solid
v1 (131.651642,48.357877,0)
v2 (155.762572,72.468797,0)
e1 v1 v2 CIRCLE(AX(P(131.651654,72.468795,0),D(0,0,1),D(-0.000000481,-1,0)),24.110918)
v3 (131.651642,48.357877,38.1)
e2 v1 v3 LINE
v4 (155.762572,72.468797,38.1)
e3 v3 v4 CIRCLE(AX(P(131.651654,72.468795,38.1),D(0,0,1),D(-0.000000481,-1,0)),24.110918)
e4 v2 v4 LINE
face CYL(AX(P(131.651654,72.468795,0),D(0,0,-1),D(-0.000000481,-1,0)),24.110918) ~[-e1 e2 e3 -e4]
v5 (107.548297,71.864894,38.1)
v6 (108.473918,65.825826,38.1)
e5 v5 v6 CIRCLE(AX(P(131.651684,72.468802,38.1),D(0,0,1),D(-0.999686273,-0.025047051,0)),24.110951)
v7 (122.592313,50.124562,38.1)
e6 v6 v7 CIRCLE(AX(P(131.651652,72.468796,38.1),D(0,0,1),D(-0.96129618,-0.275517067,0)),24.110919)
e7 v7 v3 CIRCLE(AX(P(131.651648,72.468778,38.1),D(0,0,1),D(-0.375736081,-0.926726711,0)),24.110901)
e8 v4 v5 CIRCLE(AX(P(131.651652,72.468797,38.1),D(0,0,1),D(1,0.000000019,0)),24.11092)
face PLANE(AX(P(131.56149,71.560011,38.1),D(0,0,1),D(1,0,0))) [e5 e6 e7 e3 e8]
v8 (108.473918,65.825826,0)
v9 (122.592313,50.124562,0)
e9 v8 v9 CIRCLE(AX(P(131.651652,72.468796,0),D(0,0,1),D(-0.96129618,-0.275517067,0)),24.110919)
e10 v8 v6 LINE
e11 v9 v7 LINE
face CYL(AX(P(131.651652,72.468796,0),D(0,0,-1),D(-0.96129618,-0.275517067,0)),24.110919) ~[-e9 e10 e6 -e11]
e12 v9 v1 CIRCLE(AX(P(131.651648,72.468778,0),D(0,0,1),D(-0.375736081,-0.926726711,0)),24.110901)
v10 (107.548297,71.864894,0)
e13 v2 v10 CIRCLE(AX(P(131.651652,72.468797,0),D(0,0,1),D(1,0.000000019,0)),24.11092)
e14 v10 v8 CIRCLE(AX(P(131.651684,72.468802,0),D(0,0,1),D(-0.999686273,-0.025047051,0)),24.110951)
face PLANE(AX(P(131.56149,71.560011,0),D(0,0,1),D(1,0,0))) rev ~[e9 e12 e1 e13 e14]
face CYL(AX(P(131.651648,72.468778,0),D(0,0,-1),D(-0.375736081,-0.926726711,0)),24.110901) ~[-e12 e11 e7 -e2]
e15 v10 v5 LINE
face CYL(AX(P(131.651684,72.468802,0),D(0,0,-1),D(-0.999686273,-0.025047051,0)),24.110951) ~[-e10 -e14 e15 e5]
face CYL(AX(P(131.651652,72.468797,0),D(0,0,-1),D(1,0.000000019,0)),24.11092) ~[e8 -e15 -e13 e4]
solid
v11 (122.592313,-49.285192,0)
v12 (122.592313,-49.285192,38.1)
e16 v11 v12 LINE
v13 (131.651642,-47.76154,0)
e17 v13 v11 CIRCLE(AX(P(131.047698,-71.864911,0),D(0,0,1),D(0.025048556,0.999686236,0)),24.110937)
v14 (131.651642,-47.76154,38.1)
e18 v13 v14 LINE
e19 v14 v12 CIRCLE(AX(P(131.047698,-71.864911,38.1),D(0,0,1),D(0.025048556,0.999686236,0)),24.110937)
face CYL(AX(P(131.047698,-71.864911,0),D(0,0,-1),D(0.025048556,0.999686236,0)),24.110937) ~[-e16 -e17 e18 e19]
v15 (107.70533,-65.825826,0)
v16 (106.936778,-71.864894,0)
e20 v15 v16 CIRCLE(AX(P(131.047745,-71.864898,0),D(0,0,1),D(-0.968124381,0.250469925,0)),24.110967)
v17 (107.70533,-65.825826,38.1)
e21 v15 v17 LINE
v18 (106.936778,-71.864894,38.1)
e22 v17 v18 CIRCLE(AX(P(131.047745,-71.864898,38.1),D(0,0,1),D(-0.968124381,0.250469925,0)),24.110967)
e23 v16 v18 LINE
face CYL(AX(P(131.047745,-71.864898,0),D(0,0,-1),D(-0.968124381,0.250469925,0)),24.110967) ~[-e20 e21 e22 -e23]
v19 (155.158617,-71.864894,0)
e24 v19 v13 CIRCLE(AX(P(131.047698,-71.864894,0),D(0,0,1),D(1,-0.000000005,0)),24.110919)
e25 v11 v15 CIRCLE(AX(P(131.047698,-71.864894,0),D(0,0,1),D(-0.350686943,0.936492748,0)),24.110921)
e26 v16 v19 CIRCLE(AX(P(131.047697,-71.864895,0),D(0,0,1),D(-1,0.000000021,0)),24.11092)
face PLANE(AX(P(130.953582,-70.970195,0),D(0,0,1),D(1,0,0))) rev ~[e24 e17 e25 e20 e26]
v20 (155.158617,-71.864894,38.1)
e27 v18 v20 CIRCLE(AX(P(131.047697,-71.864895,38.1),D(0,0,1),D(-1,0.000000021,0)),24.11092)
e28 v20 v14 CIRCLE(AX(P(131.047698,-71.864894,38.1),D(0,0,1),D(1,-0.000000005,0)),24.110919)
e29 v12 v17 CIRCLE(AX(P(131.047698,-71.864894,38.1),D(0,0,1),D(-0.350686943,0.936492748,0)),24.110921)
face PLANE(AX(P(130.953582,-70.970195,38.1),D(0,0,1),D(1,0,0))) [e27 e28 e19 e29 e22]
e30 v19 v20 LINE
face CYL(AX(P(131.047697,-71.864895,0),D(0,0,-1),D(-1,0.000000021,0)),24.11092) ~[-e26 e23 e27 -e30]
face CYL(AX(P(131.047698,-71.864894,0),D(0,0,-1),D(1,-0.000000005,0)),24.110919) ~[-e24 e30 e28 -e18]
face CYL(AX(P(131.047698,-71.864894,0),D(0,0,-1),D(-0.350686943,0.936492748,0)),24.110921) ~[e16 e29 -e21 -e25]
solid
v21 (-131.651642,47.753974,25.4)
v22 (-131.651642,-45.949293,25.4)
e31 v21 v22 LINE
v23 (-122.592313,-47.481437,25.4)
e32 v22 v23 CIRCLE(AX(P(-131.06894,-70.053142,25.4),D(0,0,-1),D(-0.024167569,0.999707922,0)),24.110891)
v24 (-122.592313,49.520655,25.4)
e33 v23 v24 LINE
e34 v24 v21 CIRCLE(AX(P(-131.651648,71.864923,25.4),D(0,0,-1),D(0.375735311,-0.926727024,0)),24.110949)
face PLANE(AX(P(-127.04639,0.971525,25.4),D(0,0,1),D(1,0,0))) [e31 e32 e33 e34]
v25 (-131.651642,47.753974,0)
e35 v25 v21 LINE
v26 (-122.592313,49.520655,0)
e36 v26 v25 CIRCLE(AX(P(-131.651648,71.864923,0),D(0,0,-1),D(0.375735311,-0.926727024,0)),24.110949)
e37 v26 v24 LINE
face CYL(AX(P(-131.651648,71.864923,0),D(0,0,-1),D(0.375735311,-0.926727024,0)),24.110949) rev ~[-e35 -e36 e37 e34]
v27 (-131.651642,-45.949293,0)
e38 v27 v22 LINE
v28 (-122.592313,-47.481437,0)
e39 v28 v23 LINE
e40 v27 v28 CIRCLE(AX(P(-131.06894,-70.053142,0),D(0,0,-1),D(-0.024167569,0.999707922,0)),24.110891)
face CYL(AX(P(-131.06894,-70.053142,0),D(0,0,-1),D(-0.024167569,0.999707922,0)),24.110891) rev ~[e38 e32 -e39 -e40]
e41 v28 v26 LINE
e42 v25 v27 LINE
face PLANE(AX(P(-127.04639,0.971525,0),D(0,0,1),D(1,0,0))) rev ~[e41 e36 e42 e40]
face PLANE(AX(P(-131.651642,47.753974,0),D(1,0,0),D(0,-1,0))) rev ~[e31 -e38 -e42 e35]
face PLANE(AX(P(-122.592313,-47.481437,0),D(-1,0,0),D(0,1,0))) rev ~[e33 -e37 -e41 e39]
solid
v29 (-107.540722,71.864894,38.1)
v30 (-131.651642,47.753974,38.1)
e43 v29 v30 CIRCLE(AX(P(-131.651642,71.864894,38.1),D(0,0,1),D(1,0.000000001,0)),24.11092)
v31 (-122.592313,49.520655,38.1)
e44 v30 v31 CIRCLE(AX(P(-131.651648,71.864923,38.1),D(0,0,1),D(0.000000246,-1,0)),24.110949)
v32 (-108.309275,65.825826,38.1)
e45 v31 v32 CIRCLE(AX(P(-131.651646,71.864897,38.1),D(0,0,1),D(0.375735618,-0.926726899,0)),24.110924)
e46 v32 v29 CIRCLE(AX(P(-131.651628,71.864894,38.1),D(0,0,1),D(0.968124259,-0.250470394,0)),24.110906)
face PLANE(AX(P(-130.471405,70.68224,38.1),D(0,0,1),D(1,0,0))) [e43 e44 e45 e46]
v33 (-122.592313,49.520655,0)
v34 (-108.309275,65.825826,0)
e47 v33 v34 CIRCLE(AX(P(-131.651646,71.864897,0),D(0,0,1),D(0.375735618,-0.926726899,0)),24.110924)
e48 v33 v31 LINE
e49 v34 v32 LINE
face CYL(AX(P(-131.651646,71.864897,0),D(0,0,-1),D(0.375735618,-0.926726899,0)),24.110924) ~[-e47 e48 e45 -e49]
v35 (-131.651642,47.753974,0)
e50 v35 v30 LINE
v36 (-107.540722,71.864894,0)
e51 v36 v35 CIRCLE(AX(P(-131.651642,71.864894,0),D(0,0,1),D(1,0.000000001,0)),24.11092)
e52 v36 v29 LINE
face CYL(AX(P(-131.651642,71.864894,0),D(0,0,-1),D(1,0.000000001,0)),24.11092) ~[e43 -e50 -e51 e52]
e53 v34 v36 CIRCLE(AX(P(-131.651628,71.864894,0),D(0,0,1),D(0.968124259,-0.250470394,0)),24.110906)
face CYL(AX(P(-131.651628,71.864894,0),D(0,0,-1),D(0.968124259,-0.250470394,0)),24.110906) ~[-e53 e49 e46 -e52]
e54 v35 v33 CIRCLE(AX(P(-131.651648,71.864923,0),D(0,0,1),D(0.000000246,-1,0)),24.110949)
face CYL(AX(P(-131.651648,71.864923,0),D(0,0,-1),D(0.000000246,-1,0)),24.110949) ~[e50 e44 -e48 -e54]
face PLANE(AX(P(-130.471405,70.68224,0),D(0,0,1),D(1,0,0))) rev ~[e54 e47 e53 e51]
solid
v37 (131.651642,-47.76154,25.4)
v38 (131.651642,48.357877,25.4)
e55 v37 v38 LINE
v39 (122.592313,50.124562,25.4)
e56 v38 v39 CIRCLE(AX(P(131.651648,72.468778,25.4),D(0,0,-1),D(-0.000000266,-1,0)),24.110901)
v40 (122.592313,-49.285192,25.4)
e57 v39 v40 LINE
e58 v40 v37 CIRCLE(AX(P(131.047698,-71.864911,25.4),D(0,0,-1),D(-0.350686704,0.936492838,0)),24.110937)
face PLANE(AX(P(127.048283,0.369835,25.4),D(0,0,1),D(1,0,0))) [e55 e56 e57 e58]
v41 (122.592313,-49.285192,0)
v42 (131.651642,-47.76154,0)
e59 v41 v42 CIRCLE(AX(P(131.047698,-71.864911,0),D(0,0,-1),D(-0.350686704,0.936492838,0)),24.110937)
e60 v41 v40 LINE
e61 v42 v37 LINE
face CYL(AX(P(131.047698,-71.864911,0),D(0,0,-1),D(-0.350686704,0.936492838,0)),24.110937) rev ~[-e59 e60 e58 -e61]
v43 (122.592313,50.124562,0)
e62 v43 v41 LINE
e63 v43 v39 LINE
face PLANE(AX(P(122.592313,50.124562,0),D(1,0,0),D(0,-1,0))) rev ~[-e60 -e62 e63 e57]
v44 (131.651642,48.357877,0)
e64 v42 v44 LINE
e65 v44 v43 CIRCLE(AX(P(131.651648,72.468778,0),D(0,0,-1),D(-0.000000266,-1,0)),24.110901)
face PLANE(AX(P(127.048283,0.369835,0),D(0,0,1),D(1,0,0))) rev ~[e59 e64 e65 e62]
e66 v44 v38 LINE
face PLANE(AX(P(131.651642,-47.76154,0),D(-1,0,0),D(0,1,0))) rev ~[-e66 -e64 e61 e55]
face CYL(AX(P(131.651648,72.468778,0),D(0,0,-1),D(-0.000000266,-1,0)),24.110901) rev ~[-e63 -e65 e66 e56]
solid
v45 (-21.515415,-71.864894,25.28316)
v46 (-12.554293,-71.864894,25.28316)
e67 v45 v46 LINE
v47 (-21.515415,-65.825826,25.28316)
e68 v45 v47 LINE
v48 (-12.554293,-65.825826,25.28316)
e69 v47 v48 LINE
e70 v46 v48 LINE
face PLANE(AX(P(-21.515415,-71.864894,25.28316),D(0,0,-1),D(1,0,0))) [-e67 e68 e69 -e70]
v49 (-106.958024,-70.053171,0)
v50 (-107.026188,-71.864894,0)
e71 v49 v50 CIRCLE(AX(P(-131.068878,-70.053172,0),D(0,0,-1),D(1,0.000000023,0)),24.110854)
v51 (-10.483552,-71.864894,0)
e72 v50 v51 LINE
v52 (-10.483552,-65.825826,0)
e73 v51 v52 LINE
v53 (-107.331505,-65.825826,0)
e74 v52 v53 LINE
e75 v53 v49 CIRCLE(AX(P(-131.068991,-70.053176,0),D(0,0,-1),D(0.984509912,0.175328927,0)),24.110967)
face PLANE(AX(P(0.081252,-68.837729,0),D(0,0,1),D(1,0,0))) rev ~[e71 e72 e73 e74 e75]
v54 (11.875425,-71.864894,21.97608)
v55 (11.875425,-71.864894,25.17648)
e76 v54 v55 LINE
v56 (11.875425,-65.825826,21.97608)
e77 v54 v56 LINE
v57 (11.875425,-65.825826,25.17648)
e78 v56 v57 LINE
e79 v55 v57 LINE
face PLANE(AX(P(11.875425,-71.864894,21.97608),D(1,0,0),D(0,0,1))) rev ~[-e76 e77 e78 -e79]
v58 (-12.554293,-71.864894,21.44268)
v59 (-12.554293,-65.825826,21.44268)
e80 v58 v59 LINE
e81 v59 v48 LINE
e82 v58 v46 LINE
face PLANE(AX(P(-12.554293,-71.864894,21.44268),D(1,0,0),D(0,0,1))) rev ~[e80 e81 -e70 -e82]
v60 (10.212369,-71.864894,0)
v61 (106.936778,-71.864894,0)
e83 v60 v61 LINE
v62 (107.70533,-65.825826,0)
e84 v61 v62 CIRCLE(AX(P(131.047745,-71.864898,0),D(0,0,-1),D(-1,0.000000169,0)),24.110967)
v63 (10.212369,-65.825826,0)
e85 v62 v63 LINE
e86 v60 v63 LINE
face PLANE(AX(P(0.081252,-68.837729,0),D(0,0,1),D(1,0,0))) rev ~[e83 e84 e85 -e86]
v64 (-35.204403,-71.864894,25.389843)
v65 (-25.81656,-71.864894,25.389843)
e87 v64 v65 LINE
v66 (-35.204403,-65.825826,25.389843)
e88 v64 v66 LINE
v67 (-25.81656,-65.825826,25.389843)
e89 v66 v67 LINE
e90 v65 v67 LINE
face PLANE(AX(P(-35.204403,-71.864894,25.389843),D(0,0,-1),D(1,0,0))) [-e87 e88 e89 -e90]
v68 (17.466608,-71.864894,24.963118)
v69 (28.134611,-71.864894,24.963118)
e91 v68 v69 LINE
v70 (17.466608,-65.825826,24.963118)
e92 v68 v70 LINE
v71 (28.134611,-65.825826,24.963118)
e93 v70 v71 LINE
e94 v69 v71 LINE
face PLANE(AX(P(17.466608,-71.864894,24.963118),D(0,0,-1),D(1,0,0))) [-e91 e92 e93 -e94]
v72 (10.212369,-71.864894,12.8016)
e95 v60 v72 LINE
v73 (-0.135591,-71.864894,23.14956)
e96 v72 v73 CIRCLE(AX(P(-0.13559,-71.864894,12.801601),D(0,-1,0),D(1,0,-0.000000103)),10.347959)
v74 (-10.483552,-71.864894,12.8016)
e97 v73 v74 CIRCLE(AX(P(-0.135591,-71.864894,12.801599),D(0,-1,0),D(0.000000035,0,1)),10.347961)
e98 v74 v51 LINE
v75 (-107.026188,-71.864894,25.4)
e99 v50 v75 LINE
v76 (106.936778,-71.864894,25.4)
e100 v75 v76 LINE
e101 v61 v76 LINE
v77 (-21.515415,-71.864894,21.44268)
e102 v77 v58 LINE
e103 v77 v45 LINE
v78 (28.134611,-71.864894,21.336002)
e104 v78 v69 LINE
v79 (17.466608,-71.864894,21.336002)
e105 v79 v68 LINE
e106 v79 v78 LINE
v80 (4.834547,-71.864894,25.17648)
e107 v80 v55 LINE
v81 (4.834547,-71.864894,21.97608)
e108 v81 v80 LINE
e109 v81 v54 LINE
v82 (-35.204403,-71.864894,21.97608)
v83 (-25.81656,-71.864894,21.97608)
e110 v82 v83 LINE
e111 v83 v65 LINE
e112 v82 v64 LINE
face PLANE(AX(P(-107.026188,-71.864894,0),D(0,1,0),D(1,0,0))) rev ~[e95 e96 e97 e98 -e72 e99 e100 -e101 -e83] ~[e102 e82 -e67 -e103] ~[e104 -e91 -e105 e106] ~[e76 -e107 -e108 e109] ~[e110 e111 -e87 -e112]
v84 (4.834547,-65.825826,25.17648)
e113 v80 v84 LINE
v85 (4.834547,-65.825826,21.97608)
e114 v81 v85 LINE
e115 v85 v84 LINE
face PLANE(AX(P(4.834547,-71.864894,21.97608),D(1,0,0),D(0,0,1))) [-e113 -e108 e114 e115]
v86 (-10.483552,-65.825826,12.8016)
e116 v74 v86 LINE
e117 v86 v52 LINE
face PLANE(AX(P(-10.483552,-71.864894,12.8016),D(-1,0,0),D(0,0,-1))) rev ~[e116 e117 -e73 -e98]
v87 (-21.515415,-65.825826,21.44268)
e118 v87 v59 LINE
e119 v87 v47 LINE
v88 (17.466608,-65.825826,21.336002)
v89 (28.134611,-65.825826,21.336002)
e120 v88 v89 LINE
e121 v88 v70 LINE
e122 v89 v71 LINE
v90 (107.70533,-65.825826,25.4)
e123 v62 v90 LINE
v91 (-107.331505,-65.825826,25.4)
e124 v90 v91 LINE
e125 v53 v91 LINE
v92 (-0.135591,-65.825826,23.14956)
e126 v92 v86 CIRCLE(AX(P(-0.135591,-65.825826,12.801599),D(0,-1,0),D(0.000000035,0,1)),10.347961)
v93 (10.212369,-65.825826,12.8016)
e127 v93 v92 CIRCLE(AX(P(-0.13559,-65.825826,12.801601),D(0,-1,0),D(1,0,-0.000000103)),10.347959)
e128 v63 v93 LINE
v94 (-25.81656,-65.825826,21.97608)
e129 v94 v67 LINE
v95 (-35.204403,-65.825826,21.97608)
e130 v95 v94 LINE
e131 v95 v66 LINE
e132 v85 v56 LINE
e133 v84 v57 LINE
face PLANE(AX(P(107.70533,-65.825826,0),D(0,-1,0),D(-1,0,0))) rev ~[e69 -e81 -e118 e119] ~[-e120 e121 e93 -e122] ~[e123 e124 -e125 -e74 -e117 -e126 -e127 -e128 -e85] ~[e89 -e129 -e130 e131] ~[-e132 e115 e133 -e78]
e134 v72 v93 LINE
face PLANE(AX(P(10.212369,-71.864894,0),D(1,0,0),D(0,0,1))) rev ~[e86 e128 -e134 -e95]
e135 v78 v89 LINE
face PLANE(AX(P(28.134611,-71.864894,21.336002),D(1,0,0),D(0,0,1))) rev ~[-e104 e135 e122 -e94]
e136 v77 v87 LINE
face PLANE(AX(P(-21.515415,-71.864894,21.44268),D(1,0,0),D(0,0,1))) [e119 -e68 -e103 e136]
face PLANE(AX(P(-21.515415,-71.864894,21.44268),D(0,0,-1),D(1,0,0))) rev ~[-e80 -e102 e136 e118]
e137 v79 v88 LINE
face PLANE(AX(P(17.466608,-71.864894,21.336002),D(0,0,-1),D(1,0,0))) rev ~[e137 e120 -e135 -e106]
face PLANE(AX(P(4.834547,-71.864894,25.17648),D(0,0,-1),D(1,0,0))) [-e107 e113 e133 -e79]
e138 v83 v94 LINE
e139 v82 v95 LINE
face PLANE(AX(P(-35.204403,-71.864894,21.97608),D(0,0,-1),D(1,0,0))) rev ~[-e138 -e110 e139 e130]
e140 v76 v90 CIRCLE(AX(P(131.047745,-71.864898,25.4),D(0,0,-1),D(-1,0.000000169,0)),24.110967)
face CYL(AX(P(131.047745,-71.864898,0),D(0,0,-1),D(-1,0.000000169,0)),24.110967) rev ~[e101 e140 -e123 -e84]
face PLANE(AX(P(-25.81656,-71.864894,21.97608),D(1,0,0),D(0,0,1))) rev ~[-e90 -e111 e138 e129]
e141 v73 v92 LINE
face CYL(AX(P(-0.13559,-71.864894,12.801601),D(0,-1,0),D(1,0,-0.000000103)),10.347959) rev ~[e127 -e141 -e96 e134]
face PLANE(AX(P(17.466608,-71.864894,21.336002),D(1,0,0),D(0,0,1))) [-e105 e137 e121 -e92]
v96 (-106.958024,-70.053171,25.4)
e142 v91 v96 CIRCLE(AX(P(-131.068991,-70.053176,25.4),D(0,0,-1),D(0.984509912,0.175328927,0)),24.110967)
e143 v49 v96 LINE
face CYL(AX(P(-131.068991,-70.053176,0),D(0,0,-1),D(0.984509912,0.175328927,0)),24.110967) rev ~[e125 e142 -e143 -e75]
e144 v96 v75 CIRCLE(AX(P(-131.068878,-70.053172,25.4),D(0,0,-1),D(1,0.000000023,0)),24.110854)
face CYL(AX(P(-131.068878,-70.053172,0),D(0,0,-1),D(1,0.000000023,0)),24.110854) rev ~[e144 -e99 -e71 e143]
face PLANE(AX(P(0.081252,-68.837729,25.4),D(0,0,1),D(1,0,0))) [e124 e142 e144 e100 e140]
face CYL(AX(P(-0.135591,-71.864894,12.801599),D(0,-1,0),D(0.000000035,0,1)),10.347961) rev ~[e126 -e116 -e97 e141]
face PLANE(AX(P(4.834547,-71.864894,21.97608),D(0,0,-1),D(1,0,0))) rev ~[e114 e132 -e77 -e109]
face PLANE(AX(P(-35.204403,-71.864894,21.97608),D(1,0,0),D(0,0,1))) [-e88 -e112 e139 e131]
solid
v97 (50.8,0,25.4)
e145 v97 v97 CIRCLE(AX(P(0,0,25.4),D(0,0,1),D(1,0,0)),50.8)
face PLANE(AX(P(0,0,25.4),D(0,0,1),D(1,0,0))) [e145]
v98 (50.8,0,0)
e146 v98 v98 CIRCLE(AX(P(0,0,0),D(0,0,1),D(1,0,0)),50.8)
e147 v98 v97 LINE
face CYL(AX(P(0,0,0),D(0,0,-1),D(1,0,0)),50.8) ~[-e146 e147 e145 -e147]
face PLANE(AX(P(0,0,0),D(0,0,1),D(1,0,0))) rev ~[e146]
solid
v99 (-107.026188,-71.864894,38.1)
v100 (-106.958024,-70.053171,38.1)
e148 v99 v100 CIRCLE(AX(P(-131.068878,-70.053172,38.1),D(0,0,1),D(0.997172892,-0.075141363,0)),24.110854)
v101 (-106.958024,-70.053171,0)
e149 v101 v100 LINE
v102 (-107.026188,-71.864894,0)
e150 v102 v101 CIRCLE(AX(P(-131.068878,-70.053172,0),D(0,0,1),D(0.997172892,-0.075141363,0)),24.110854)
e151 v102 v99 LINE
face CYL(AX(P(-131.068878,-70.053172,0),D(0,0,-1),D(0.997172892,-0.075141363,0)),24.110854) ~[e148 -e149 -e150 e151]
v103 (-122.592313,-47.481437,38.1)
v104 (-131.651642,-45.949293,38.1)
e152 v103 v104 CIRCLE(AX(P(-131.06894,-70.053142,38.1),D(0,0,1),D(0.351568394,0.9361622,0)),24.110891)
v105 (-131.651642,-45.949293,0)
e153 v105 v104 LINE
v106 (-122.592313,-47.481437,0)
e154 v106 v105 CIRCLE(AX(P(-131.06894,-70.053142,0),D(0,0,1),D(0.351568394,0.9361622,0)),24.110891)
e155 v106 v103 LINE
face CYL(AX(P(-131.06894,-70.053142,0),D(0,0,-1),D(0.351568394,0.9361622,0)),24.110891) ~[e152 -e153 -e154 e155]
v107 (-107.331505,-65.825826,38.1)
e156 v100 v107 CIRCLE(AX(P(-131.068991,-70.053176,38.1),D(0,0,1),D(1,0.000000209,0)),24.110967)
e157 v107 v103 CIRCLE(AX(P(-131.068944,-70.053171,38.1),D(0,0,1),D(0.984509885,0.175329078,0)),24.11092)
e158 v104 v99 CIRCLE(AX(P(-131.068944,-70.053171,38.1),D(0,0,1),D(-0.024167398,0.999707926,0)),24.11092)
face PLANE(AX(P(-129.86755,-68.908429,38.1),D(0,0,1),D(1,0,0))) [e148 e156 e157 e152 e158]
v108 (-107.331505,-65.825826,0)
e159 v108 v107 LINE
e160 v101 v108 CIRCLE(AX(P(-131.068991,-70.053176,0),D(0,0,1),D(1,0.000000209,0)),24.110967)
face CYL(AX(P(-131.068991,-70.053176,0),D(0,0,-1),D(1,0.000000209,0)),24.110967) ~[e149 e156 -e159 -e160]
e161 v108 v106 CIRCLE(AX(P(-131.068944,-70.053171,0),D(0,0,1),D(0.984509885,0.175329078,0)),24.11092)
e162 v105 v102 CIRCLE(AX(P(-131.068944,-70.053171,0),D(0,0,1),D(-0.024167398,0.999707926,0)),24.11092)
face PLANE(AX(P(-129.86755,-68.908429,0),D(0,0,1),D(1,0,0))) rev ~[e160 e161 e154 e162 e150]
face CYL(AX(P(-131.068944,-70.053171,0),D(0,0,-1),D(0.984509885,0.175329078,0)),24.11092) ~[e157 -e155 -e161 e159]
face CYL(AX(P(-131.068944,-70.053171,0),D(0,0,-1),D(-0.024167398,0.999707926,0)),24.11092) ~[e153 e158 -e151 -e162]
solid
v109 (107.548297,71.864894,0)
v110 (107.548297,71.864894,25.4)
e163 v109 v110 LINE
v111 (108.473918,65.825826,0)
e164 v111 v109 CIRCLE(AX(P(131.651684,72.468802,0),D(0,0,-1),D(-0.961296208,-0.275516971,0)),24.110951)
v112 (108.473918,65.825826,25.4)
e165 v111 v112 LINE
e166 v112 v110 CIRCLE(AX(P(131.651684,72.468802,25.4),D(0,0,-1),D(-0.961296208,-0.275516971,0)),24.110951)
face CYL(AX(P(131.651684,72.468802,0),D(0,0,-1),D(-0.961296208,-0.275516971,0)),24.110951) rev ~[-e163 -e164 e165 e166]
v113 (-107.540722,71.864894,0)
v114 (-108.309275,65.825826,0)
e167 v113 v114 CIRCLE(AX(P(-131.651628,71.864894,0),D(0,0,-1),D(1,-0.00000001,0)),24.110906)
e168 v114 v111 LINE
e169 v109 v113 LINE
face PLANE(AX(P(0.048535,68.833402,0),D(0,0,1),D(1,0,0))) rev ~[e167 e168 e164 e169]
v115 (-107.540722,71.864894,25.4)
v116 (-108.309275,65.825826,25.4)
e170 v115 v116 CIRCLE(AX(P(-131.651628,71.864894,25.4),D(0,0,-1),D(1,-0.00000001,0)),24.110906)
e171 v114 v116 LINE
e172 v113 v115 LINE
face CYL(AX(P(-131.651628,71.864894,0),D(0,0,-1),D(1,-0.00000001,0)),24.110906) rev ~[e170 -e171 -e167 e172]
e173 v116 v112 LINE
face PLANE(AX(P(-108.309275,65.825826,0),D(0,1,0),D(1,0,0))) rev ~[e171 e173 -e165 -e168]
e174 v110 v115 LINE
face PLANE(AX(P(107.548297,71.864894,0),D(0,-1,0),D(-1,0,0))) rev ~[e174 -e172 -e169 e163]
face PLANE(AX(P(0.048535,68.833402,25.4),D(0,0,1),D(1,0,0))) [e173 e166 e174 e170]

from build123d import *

# Parameters (mm, degrees)
F1_DEPTH = 25.4
F2_DEPTH = 38.1
F4_DEPTH = 25.4
F5_W     = 9.387843
F5_H     = 3.413763
F5_W_2   = 10.668003
F5_H_2   = 3.627116
F6_DEPTH = 25.4
F7_W     = 8.961123
F7_H     = 3.84048
F7_W_2   = 7.040878
F7_H_2   = 3.2004
F8_DEPTH = 25.4
F0_R     = 50.8
F9_DEPTH = 25.4


with BuildPart() as f1:
    # F0 (on Top) → F1 (new body)
    with BuildSketch(Plane.XY):
        with BuildLine():
            ThreePointArc((108.473918, 65.825826), (107.81905, 68.815923), (107.548297, 71.864894))
            Line((107.548297, 71.864894), (-107.540722, 71.864894))
            ThreePointArc((-107.540722, 71.864894), (-107.733632, 68.821006), (-108.309275, 65.825826))
            Line((-108.309275, 65.825826), (108.473918, 65.825826))
        make_face()
        with BuildLine():
            ThreePointArc((-122.592313, 49.520655), (-127.03665, 48.199766), (-131.651642, 47.753974))
            Line((-131.651642, 47.753974), (-131.651642, -45.949293))
            ThreePointArc((-131.651642, -45.949293), (-127.048321, -46.279844), (-122.592313, -47.481437))
            Line((-122.592313, -47.481437), (-122.592313, 49.520655))
        make_face()
        with BuildLine():
            ThreePointArc((-106.958024, -70.053171), (-106.975071, -70.959673), (-107.026188, -71.864894))
            Line((-107.026188, -71.864894), (106.936778, -71.864894))
            ThreePointArc((106.936778, -71.864894), (107.129688, -68.821006), (107.70533, -65.825826))
            Line((107.70533, -65.825826), (-107.331505, -65.825826))
            ThreePointArc((-107.331505, -65.825826), (-107.051576, -67.931265), (-106.958024, -70.053171))
        make_face()
        with BuildLine():
            Line((131.651642, -47.76154), (131.651642, 48.357877))
            ThreePointArc((131.651642, 48.357877), (127.03665, 48.80367), (122.592313, 50.124562))
            Line((122.592313, 50.124562), (122.592313, -49.285192))
            ThreePointArc((122.592313, -49.285192), (127.048741, -48.087914), (131.651642, -47.76154))
        make_face()
    extrude(amount=F1_DEPTH)

    # F3 (on face) → F4 (cut)
    with BuildSketch(Plane.XZ.offset(71.864894)):
        with BuildLine():
            Line((-10.483552, 12.8016), (-10.483552, 0))
            Line((-10.483552, 0), (10.212369, 0))
            Line((10.212369, 0), (10.212369, 12.8016))
            ThreePointArc((10.212369, 12.8016), (7.181522, 20.118713), (-0.135591, 23.14956))
            ThreePointArc((-0.135591, 23.14956), (-7.452704, 20.118713), (-10.483552, 12.8016))
        make_face()
    extrude(amount=-F4_DEPTH, mode=Mode.SUBTRACT)

    # F5 (on face) → F6 (cut)
    with BuildSketch(Plane.XZ.offset(71.864894)):
        with Locations((-30.510481, 23.682961)):
            Rectangle(F5_W, F5_H)
        with Locations((22.80061, 23.14956)):
            Rectangle(F5_W_2, F5_H_2)
    extrude(amount=-F6_DEPTH, mode=Mode.SUBTRACT)

    # F7 (on face) → F8 (cut)
    with BuildSketch(Plane.XZ.offset(71.864894)):
        with Locations((-17.034854, 23.36292)):
            Rectangle(F7_W, F7_H)
        with Locations((8.354986, 23.57628)):
            Rectangle(F7_W_2, F7_H_2)
    extrude(amount=-F8_DEPTH, mode=Mode.SUBTRACT)


with BuildPart() as f2:
    # F0 (on Top) → F2 (new body)
    with BuildSketch(Plane.XY):
        with BuildLine():
            ThreePointArc((-108.309275, 65.825826), (-107.733632, 68.821006), (-107.540722, 71.864894))
            ThreePointArc((-107.540722, 71.864894), (-148.700637, 88.913889), (-131.651642, 47.753974))
            ThreePointArc((-131.651642, 47.753974), (-127.03665, 48.199766), (-122.592313, 49.520655))
            ThreePointArc((-122.592313, 49.520655), (-113.515156, 55.977657), (-108.309275, 65.825826))
        make_face()
        with BuildLine():
            ThreePointArc((155.762572, 72.468797), (131.349678, 96.577825), (107.548297, 71.864894))
            ThreePointArc((107.548297, 71.864894), (107.81905, 68.815923), (108.473918, 65.825826))
            ThreePointArc((108.473918, 65.825826), (113.722914, 56.347482), (122.592313, 50.124562))
            ThreePointArc((122.592313, 50.124562), (127.03665, 48.80367), (131.651642, 48.357877))
            ThreePointArc((131.651642, 48.357877), (148.700644, 55.419798), (155.762572, 72.468797))
        make_face()
        with BuildLine():
            ThreePointArc((-122.592313, -47.481437), (-127.048321, -46.279844), (-131.651642, -45.949293))
            ThreePointArc((-131.651642, -45.949293), (-148.54745, -86.66155), (-107.026188, -71.864894))
            ThreePointArc((-107.026188, -71.864894), (-106.975071, -70.959673), (-106.958024, -70.053171))
            ThreePointArc((-106.958024, -70.053171), (-107.051576, -67.931265), (-107.331505, -65.825826))
            ThreePointArc((-107.331505, -65.825826), (-112.533418, -54.633355), (-122.592313, -47.481437))
        make_face()
        with BuildLine():
            ThreePointArc((155.158617, -71.864894), (148.308898, -55.03078), (131.651642, -47.76154))
            ThreePointArc((131.651642, -47.76154), (127.048741, -48.087914), (122.592313, -49.285192))
            ThreePointArc((122.592313, -49.285192), (113.126414, -55.735292), (107.70533, -65.825826))
            ThreePointArc((107.70533, -65.825826), (107.129688, -68.821006), (106.936778, -71.864894))
            ThreePointArc((106.936778, -71.864894), (131.047697, -95.975814), (155.158617, -71.864894))
        make_face()
    extrude(amount=F2_DEPTH)


with BuildPart() as f9:
    # F0 (on Top) → F9 (new body)
    with BuildSketch(Plane.XY):
        Circle(F0_R)
    extrude(amount=F9_DEPTH)


solid = Compound([f1.part, f2.part, f9.part])
